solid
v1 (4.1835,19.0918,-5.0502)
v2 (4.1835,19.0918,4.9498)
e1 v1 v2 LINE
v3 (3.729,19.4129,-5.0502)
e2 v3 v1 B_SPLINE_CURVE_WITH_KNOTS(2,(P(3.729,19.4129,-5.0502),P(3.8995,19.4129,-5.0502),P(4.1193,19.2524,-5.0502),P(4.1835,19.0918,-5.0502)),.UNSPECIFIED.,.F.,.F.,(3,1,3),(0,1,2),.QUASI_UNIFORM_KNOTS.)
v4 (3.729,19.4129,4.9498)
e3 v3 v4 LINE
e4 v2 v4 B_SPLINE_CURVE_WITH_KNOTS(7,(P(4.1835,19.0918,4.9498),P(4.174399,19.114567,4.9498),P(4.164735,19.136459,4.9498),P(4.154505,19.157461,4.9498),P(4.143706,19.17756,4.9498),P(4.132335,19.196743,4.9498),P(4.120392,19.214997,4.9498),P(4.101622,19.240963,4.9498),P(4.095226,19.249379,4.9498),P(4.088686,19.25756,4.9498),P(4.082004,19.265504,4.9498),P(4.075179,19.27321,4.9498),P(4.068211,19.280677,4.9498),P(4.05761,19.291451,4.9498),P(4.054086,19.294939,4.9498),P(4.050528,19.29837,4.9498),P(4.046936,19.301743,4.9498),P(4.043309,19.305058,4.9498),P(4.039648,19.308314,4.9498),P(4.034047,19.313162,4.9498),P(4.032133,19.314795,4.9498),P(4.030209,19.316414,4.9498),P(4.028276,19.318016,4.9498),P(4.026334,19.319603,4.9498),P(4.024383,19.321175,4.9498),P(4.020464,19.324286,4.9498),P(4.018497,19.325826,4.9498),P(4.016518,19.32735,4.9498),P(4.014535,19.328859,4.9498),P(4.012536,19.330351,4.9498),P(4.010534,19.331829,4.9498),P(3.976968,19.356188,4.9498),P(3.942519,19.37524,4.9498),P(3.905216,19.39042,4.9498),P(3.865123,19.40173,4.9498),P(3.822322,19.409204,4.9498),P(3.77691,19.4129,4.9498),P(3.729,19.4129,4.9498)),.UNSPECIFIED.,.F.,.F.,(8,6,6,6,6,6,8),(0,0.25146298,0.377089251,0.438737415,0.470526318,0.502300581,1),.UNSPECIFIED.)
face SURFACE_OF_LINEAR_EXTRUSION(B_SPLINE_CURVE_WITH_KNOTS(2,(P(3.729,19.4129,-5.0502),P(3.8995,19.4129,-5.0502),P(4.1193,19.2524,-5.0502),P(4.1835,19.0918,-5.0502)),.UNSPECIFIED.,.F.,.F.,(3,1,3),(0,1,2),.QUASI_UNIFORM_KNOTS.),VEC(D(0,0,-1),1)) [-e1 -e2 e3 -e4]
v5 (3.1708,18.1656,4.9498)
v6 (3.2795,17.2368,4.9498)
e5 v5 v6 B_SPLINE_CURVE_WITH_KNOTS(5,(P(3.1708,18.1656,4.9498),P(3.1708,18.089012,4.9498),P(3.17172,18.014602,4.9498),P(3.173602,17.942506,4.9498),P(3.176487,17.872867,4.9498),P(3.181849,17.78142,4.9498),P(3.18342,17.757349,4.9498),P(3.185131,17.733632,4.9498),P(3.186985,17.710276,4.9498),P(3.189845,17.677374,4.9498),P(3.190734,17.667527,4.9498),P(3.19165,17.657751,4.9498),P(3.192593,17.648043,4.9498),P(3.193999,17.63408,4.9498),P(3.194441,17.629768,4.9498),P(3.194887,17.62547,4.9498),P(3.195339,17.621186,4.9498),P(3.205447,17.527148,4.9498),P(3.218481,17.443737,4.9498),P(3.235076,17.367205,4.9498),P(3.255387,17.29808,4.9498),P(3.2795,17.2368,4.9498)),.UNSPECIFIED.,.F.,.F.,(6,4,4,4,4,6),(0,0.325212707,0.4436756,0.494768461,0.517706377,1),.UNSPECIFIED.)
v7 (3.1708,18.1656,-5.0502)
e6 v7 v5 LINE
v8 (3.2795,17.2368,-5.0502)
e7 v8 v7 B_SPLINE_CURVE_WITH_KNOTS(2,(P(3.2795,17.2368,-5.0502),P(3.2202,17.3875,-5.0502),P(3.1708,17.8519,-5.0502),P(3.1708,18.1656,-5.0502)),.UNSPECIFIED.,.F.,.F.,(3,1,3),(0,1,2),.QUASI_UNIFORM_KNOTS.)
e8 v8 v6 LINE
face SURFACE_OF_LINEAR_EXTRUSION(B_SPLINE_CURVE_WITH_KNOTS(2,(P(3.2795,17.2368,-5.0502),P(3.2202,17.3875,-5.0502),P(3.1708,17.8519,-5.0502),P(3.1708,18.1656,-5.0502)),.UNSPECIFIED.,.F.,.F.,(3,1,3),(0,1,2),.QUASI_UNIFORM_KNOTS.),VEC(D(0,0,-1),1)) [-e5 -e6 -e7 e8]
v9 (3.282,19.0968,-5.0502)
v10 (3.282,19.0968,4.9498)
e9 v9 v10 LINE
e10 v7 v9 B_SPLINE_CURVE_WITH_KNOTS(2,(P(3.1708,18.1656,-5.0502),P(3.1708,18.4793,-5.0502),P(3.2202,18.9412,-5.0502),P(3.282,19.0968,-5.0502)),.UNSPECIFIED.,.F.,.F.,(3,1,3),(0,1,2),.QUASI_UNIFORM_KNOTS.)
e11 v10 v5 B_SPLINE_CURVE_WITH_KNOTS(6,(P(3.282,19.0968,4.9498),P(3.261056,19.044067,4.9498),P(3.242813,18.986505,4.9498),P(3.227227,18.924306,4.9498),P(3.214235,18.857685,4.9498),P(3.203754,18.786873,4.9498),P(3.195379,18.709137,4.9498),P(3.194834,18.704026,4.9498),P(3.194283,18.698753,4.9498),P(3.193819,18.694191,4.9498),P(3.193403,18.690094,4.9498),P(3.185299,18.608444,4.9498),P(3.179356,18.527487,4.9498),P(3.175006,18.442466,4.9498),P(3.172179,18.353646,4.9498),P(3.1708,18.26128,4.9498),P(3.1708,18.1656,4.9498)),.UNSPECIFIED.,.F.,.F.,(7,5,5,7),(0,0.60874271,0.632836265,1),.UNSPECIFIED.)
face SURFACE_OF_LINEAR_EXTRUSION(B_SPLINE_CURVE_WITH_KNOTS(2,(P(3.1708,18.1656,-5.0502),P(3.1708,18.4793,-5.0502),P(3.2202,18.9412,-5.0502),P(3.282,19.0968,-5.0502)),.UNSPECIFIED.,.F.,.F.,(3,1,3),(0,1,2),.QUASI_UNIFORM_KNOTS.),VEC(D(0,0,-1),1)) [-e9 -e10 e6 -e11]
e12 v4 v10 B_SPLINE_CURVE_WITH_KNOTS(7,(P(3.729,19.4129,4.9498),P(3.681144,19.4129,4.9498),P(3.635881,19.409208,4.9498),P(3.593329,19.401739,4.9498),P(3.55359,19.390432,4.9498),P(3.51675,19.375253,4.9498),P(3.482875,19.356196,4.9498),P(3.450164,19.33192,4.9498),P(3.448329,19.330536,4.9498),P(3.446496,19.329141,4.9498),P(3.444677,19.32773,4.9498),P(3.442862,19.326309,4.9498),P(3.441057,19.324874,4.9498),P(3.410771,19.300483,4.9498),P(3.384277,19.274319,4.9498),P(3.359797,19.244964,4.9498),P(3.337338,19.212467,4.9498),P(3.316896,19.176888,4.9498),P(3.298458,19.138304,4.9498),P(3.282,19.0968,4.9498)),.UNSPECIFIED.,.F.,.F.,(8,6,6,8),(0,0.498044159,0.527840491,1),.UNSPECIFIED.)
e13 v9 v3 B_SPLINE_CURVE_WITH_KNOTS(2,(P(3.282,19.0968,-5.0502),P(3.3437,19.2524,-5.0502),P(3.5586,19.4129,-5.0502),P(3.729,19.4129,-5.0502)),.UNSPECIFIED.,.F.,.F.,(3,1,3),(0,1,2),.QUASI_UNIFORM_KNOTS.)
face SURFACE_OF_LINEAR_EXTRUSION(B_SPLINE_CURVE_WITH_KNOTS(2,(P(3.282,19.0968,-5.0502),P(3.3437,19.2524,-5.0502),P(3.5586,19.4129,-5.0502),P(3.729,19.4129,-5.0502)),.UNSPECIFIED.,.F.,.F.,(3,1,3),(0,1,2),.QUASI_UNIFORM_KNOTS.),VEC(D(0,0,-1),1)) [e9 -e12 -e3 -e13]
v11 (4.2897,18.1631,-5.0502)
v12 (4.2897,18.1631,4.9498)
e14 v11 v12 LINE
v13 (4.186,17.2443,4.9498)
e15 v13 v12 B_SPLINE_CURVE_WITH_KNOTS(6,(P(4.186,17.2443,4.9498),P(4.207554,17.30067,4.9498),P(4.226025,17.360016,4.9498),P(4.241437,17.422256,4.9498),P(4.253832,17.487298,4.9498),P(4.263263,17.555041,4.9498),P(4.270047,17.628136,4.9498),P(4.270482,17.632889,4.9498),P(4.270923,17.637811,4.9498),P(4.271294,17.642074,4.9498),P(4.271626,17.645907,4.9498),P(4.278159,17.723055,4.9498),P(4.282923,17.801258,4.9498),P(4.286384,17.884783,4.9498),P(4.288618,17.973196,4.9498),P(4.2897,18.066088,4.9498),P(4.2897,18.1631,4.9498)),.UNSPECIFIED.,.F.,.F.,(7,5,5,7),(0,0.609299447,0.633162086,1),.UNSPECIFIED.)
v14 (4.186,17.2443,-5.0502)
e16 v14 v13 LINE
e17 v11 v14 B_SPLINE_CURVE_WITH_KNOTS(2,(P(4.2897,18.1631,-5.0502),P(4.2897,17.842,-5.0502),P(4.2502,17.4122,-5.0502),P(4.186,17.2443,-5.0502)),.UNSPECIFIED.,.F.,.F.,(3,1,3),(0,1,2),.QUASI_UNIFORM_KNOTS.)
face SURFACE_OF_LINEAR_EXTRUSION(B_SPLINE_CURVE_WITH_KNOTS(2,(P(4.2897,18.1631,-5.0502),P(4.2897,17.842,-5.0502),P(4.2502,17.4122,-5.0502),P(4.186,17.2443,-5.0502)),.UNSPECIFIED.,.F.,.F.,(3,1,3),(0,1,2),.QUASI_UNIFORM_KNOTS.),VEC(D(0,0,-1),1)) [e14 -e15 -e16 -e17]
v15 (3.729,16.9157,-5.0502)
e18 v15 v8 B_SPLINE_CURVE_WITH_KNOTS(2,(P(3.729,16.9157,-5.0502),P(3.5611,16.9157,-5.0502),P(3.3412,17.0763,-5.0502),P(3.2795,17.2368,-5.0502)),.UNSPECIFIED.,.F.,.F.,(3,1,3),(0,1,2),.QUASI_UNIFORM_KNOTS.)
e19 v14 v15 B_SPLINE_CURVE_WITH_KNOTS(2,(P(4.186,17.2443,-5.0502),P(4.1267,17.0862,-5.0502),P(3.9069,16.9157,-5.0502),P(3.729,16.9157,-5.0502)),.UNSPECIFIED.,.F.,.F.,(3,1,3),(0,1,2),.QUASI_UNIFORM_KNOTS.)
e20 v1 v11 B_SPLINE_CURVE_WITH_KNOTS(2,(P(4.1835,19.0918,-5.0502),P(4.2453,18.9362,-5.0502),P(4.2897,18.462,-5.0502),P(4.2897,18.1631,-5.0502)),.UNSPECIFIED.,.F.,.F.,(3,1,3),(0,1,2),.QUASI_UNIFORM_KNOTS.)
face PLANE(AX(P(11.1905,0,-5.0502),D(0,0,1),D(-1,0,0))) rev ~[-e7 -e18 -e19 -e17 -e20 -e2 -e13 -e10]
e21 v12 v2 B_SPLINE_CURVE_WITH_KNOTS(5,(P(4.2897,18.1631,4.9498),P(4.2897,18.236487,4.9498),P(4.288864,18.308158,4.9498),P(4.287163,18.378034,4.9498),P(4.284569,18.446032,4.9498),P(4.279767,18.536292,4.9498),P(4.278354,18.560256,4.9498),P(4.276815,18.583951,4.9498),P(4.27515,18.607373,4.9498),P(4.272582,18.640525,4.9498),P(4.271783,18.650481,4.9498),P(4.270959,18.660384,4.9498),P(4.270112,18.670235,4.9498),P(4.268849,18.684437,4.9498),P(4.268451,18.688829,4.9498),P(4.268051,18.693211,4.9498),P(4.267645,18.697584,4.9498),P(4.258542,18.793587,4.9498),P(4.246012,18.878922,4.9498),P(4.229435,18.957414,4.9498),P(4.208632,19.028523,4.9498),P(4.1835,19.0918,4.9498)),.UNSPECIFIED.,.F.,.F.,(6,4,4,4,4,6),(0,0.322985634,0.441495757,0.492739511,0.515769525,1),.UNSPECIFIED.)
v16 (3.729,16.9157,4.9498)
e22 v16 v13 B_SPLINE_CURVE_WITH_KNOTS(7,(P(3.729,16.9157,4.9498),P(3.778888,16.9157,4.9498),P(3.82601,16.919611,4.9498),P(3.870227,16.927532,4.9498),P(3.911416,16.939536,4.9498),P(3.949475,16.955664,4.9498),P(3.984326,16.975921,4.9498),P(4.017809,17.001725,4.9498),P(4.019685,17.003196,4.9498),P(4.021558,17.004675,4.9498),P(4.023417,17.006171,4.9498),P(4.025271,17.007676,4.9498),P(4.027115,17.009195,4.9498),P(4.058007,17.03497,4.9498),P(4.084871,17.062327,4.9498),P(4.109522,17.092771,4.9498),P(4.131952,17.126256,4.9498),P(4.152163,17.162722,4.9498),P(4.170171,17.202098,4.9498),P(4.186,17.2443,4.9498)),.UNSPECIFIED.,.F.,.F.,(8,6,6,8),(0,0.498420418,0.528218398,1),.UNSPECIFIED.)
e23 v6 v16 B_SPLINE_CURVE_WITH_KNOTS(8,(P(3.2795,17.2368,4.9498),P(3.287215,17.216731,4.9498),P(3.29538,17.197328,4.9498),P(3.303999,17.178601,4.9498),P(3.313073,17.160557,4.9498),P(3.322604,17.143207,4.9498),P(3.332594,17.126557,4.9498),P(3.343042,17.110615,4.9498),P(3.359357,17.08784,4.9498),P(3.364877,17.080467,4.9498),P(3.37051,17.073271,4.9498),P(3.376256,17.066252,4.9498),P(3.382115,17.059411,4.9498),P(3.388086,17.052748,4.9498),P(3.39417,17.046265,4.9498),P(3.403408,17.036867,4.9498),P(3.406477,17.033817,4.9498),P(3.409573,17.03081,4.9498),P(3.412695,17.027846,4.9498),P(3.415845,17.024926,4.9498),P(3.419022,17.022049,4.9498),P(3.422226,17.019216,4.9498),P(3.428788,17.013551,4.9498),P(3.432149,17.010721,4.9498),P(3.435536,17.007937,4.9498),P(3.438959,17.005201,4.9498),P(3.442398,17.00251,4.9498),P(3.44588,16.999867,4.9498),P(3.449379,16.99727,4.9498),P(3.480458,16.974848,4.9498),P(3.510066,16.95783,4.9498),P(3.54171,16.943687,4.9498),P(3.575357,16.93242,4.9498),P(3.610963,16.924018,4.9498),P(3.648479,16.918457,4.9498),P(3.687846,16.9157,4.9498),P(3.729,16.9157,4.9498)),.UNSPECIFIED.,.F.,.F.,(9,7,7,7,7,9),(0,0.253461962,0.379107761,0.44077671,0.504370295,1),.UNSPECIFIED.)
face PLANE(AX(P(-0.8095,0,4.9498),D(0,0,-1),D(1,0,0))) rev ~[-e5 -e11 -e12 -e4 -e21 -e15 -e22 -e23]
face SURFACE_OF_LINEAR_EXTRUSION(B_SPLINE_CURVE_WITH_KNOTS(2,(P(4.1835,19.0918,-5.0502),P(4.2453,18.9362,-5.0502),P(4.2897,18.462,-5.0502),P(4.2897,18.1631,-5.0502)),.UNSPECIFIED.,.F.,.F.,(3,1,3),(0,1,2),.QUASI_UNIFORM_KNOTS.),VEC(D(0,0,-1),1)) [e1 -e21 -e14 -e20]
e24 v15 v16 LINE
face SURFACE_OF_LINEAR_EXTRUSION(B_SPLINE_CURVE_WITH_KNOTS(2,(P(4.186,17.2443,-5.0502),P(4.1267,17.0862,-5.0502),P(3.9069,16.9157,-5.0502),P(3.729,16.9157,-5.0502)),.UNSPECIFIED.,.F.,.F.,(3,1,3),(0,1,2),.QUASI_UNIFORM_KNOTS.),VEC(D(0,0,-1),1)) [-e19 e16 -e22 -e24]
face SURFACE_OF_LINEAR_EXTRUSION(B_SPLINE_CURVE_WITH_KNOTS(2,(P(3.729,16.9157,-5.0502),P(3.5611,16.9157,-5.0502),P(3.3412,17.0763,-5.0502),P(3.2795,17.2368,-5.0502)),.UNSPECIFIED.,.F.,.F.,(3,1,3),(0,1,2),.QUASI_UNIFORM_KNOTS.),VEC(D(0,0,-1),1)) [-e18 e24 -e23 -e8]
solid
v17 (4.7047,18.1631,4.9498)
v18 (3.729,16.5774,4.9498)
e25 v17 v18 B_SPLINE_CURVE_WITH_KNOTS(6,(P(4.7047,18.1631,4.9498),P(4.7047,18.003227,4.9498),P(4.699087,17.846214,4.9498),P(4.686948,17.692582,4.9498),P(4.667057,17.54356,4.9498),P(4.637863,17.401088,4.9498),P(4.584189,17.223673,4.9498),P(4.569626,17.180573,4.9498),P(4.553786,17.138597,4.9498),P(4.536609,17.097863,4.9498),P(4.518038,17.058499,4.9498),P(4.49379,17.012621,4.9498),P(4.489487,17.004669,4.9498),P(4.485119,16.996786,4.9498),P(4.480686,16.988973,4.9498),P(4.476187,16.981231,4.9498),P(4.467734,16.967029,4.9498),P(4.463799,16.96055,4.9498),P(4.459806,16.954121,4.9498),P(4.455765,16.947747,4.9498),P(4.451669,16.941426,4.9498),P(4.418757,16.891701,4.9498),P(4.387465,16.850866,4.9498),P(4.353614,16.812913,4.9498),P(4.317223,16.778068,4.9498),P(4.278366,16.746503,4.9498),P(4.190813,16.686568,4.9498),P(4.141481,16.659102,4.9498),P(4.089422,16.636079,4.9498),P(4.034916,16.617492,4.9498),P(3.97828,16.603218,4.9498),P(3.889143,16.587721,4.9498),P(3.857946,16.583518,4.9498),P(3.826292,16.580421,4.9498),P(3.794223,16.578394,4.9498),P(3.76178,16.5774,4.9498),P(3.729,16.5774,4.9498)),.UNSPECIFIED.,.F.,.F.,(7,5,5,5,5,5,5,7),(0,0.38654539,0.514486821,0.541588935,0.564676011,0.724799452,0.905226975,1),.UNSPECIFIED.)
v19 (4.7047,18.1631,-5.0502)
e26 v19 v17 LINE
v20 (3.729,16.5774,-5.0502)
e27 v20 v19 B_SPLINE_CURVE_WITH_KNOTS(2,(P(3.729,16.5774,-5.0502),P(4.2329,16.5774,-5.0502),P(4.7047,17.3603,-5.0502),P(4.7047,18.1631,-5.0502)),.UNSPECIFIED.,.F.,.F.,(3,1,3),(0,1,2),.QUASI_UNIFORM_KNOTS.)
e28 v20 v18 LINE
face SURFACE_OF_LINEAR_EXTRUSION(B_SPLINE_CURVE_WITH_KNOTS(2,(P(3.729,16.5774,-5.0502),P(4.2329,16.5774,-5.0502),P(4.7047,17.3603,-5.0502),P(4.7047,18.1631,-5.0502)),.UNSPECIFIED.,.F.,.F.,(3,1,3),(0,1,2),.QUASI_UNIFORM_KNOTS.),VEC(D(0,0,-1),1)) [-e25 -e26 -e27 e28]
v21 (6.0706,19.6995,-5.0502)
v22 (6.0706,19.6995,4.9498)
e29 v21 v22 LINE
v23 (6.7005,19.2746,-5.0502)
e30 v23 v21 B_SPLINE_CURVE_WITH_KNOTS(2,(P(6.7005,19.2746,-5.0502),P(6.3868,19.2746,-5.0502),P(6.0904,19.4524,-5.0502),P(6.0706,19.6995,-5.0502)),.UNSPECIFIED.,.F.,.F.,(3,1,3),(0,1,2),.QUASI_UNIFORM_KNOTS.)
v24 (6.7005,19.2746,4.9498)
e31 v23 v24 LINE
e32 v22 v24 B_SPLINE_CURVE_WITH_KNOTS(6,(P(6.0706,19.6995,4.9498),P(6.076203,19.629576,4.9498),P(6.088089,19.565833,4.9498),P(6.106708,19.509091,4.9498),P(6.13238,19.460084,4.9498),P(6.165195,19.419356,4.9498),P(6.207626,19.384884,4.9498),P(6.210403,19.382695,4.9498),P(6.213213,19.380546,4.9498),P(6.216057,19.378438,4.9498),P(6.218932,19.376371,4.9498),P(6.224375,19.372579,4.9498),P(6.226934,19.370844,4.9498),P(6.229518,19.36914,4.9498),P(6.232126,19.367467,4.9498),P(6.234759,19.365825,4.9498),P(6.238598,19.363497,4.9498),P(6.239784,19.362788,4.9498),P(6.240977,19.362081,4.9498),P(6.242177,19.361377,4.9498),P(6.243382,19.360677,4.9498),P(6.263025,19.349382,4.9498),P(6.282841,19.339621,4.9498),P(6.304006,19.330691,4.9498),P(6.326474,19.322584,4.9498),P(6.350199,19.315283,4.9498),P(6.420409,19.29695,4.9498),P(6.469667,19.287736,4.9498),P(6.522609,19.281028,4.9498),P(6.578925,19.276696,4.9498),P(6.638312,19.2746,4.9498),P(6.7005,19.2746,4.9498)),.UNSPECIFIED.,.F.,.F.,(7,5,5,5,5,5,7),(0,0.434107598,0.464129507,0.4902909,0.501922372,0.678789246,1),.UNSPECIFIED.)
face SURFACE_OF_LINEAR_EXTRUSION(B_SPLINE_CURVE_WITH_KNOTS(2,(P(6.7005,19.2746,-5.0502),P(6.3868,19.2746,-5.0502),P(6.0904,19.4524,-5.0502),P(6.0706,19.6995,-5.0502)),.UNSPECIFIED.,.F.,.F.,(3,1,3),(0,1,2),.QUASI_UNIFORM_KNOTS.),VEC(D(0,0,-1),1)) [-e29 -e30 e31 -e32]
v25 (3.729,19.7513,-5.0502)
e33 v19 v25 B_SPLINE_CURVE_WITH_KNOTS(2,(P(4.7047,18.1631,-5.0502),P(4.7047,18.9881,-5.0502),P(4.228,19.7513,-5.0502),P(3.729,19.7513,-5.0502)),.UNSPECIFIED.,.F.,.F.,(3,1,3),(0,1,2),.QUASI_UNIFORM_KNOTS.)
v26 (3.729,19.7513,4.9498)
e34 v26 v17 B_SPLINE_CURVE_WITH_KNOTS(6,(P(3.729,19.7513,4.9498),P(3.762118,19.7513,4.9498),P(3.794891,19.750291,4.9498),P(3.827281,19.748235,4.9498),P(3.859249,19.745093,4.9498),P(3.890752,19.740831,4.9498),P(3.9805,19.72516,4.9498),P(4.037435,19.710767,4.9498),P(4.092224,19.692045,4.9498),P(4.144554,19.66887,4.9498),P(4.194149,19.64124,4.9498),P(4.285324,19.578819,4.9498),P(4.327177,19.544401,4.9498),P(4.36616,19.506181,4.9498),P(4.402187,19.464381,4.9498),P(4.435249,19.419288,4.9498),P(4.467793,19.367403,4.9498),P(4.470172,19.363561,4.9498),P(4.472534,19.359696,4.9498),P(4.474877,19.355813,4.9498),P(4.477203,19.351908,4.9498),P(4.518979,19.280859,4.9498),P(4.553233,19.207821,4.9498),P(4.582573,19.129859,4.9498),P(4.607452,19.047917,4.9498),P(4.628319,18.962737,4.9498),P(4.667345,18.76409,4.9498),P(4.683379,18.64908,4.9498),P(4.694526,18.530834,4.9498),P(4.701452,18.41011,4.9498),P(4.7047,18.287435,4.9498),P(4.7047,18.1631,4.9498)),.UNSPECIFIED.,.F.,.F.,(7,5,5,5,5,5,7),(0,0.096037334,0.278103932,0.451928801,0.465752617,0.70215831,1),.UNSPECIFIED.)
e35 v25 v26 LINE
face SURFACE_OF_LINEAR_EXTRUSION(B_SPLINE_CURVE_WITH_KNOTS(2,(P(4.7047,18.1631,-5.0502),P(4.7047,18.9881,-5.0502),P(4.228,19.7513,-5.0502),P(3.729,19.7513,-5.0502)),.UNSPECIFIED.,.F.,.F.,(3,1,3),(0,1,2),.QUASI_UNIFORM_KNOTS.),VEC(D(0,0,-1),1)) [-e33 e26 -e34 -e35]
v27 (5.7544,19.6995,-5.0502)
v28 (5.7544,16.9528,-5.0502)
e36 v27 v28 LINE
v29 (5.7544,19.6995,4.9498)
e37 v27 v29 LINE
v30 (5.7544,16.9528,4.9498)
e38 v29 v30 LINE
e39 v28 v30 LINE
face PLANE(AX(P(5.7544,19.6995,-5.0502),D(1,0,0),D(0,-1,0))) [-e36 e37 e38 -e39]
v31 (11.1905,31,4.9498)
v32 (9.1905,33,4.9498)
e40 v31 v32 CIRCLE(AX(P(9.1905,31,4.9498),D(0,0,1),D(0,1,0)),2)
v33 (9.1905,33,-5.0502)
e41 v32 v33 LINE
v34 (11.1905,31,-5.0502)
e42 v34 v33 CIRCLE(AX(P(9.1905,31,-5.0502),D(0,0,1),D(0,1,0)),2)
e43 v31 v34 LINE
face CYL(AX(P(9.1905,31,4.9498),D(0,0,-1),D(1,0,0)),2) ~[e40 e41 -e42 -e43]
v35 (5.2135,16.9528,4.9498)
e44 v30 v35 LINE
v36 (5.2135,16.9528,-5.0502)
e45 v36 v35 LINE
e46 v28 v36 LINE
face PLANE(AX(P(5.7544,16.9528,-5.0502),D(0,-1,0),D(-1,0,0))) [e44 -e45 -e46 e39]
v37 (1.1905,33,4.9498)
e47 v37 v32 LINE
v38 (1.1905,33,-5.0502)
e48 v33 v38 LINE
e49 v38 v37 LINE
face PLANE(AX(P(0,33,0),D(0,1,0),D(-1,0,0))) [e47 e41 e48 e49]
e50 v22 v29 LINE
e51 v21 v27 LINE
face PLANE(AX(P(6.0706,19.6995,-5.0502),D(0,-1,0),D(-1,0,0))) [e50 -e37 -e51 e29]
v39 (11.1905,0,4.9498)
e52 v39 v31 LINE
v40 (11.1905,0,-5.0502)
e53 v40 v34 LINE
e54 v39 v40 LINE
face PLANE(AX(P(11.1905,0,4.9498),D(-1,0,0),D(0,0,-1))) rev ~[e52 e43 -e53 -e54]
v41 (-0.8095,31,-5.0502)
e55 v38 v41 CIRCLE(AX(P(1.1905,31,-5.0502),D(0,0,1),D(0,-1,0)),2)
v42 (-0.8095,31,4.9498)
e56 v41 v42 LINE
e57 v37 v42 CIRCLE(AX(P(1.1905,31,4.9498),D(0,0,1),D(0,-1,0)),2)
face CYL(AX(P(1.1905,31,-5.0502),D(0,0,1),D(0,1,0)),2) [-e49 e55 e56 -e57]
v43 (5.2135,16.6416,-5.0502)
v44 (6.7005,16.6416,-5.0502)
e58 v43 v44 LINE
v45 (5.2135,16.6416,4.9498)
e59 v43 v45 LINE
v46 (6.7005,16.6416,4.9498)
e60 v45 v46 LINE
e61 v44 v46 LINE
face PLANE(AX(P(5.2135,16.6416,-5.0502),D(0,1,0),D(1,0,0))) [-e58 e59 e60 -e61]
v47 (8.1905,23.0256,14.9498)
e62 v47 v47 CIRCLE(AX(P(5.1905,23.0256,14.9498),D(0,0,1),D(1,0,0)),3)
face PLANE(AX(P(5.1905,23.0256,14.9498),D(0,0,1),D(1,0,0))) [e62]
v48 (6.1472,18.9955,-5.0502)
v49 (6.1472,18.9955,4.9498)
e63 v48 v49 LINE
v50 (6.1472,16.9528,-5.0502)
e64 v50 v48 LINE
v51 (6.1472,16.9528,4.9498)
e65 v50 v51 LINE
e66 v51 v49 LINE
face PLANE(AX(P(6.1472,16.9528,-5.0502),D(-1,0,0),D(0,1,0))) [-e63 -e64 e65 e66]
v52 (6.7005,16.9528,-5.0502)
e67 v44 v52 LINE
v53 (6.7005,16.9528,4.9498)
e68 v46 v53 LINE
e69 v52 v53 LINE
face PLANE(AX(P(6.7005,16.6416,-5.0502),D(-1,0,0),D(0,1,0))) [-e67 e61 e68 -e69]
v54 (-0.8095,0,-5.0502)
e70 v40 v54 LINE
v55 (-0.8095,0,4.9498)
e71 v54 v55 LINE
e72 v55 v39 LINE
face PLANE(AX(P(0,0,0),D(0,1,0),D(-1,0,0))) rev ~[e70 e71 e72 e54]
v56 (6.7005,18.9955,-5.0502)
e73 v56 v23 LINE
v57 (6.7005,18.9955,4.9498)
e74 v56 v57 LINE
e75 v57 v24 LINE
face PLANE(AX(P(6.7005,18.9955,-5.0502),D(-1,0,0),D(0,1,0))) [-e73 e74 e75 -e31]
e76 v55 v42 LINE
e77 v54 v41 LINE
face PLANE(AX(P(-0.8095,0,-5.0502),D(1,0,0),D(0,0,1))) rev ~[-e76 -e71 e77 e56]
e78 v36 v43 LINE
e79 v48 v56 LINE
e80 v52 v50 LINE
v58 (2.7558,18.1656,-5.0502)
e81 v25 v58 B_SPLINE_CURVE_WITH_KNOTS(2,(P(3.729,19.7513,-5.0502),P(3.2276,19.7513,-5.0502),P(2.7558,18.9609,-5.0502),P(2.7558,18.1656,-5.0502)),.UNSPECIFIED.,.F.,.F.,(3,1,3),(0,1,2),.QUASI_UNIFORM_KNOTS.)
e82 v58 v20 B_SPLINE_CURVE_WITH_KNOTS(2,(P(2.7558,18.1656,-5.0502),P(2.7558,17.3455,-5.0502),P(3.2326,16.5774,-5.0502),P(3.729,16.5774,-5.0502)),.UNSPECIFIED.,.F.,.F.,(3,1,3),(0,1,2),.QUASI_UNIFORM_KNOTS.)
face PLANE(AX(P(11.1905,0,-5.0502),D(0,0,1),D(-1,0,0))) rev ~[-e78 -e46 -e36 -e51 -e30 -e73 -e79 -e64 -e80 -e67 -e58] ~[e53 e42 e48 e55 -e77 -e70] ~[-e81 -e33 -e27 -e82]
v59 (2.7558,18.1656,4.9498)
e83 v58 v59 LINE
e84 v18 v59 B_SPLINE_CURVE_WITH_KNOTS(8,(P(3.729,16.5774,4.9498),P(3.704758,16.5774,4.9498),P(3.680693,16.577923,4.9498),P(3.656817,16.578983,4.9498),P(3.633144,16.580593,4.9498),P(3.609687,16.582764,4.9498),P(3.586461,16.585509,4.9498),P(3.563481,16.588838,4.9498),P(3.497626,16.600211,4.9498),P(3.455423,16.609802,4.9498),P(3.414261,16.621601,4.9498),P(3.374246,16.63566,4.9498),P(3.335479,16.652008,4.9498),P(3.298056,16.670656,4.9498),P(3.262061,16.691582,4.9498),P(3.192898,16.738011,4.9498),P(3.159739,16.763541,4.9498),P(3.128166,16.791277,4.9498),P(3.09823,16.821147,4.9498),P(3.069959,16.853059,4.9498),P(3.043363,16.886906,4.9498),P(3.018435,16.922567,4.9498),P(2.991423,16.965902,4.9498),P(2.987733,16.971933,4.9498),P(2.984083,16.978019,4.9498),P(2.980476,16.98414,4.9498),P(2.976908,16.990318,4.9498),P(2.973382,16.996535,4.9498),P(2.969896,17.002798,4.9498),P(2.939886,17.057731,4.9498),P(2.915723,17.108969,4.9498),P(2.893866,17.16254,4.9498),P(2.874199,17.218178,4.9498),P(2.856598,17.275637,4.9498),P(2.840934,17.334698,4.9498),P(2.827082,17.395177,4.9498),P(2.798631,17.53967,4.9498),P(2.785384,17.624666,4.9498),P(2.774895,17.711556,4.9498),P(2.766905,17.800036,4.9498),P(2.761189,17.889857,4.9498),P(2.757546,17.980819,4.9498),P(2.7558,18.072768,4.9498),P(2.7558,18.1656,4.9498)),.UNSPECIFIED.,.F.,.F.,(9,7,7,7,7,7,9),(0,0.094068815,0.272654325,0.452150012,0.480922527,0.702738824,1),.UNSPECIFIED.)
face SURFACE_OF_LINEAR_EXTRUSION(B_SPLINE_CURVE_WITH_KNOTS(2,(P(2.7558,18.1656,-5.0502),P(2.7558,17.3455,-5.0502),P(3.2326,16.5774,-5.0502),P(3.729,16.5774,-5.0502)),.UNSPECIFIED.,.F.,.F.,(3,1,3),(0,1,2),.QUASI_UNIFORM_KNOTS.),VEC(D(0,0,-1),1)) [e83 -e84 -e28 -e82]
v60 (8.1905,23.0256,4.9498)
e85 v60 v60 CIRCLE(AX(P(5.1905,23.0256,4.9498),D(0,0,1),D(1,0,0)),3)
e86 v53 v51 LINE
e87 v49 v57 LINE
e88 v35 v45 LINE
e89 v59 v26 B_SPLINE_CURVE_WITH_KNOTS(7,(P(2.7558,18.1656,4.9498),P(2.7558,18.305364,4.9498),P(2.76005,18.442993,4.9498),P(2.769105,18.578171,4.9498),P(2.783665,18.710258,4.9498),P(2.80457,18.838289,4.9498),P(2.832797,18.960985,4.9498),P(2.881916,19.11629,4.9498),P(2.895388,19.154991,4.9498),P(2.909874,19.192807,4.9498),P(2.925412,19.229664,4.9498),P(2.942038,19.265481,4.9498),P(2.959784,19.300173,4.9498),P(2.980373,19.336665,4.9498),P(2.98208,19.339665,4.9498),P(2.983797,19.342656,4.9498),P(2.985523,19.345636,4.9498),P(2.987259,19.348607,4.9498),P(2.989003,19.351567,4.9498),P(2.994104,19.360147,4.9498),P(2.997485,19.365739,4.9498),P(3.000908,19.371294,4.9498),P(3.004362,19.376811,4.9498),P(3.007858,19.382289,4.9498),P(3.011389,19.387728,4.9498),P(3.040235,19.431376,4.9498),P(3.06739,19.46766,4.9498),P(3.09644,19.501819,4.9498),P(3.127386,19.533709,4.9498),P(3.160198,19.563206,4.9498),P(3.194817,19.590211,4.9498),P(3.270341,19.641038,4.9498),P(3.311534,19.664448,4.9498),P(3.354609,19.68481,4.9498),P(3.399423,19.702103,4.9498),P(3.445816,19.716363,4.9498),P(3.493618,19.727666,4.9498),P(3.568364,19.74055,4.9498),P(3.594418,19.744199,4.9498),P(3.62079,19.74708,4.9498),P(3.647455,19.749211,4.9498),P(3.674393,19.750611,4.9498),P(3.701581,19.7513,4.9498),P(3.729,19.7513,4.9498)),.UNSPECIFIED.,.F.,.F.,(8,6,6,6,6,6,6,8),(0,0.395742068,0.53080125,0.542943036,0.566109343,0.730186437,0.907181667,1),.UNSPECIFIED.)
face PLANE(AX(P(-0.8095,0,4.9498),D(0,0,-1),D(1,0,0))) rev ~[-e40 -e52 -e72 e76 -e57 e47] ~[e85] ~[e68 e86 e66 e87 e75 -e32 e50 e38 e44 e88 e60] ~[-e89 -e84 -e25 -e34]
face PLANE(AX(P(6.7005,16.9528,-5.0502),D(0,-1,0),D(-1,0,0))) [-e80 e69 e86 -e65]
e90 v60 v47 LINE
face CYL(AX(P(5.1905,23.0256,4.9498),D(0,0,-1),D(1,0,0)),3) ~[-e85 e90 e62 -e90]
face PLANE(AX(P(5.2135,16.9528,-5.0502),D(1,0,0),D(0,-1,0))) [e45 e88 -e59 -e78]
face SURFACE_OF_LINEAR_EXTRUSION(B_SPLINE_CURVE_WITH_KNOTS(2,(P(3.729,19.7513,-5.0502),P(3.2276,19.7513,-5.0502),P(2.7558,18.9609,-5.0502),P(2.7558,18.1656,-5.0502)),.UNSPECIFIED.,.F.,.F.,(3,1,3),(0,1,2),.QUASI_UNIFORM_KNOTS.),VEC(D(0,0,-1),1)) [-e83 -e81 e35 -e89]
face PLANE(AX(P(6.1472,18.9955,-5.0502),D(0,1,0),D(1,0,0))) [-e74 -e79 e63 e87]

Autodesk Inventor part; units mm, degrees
ref_plane "YZ Plane" through (0, 0, 0) normal (1, 0, 0) x (0, 1, 0)
ref_plane "XZ Plane" through (0, 0, 0) normal (0, 1, 0) x (-1, 0, 0)
ref_plane "XY Plane" through (0, 0, 0) normal (0, 0, 1) x (1, 0, 0)
sketch "Sketch1" plane through (0, 0, 0) normal (0, 1, 0) x (-1, 0, 0)
  line L0 (0.8095, 4.9498) -> (-11.1905, 4.9498)
  line L1 (-11.1905, 4.9498) -> (-11.1905, -5.0502)
  line L2 (-11.1905, -5.0502) -> (0.8095, -5.0502)
  line L3 (0.8095, -5.0502) -> (0.8095, 4.9498)
  point P0 (0, 0)
  dimension "d0" = 10
  dimension "d1" = 12
extrude "Extrusion1" add sketch "Sketch1" along normal blind 33
fillet "Fillet1" radius 2 1 edges at (11.1905, 33, -0.0502)
fillet "Fillet2" radius 2 1 edges at (-0.8095, 33, -0.0502)
sketch "Sketch2" plane through (-0.8095, 0, 4.9498) normal (0, 0, 1) x (1, 0, 0)
  circle A0 centre (6, 23.0256) radius 3
  line L0 (0, 0) -> (0, 31) projected
  point P0 (0.8095, 0)
  dimension "d6" = 6
  dimension "d7" = 6
extrude "Extrusion2" add sketch "Sketch2" along normal blind 20
sketch "Sketch3" plane through (5.1905, 23.0256, 24.9498) normal (0, 0, 1) x (1, 0, 0)
  circle A0 centre (0, 0) radius 3
  point P0 (-5.1905, -23.0256)
extrude "Extrusion3" cut sketch "Sketch3" against normal blind 10
sketch "Sketch4" plane through (11.1905, 0, -5.0502) normal (0, 0, -1) x (-1, 0, 0)
  line L0 (10.9572, 30.4948) -> (1.3526, 30.4948)
  line L1 (1.3526, 30.4948) -> (1.3526, 3.7115)
  line L2 (1.3526, 3.7115) -> (10.9572, 3.7115)
  line L3 (10.9572, 3.7115) -> (10.9572, 30.4948)
  line L4 (4.0281, 19.7513) -> (8.6026, 19.7513) construction
  line L5 (8.6026, 19.7513) -> (8.6026, 16.5774) construction
  line L6 (8.6026, 16.5774) -> (4.0281, 16.5774) construction
  line L7 (4.0281, 16.5774) -> (4.0281, 19.7513) construction
  line L8 (5.977, 16.6416) -> (4.49, 16.6416)
  line L9 (4.49, 16.6416) -> (4.49, 16.9528)
  line L10 (4.49, 16.9528) -> (5.0433, 16.9528)
  line L11 (5.0433, 16.9528) -> (5.0433, 18.9955)
  line L12 (5.0433, 18.9955) -> (4.49, 18.9955)
  line L13 (4.49, 18.9955) -> (4.49, 19.2746)
  spline S0 degree 2 poles (4.49, 19.2746) (4.8037, 19.2746) (5.1001, 19.4524) (5.1199, 19.6995) knots 0 0 0 1 2 2 2
  line L14 (5.1199, 19.6995) -> (5.4361, 19.6995)
  line L15 (5.4361, 19.6995) -> (5.4361, 16.9528)
  line L16 (5.4361, 16.9528) -> (5.977, 16.9528)
  line L17 (5.977, 16.9528) -> (5.977, 16.6416)
  spline S1 degree 2 poles (8.4347, 18.1656) (8.4347, 17.3455) (7.9579, 16.5774) (7.4615, 16.5774) knots 0 0 0 1 2 2 2
  spline S2 degree 2 poles (7.4615, 16.5774) (6.9576, 16.5774) (6.4858, 17.3603) (6.4858, 18.1631) knots 0 0 0 1 2 2 2
  spline S3 degree 2 poles (6.4858, 18.1631) (6.4858, 18.9881) (6.9625, 19.7513) (7.4615, 19.7513) knots 0 0 0 1 2 2 2
  spline S4 degree 2 poles (7.4615, 19.7513) (7.9629, 19.7513) (8.4347, 18.9609) (8.4347, 18.1656) knots 0 0 0 1 2 2 2
  spline S5 degree 2 poles (7.911, 17.2368) (7.9703, 17.3875) (8.0197, 17.8519) (8.0197, 18.1656) knots 0 0 0 1 2 2 2
  spline S6 degree 2 poles (8.0197, 18.1656) (8.0197, 18.4793) (7.9703, 18.9412) (7.9085, 19.0968) knots 0 0 0 1 2 2 2
  spline S7 degree 2 poles (7.9085, 19.0968) (7.8468, 19.2524) (7.6319, 19.4129) (7.4615, 19.4129) knots 0 0 0 1 2 2 2
  spline S8 degree 2 poles (7.4615, 19.4129) (7.291, 19.4129) (7.0712, 19.2524) (7.007, 19.0918) knots 0 0 0 1 2 2 2
  spline S9 degree 2 poles (7.007, 19.0918) (6.9452, 18.9362) (6.9008, 18.462) (6.9008, 18.1631) knots 0 0 0 1 2 2 2
  spline S10 degree 2 poles (6.9008, 18.1631) (6.9008, 17.842) (6.9403, 17.4122) (7.0045, 17.2443) knots 0 0 0 1 2 2 2
  spline S11 degree 2 poles (7.0045, 17.2443) (7.0638, 17.0862) (7.2836, 16.9157) (7.4615, 16.9157) knots 0 0 0 1 2 2 2
  spline S12 degree 2 poles (7.4615, 16.9157) (7.6294, 16.9157) (7.8493, 17.0763) (7.911, 17.2368) knots 0 0 0 1 2 2 2
  point P0 (11.1905, 0)
extrude "Extrusion4" cut sketch "Sketch4" against normal blind 20 contours L8 L9 L10 L11 L12 L13 S0 L14 L15 L16 L17 | S1 S2 S3 S4
properties part number "fengmingplayerleg"
